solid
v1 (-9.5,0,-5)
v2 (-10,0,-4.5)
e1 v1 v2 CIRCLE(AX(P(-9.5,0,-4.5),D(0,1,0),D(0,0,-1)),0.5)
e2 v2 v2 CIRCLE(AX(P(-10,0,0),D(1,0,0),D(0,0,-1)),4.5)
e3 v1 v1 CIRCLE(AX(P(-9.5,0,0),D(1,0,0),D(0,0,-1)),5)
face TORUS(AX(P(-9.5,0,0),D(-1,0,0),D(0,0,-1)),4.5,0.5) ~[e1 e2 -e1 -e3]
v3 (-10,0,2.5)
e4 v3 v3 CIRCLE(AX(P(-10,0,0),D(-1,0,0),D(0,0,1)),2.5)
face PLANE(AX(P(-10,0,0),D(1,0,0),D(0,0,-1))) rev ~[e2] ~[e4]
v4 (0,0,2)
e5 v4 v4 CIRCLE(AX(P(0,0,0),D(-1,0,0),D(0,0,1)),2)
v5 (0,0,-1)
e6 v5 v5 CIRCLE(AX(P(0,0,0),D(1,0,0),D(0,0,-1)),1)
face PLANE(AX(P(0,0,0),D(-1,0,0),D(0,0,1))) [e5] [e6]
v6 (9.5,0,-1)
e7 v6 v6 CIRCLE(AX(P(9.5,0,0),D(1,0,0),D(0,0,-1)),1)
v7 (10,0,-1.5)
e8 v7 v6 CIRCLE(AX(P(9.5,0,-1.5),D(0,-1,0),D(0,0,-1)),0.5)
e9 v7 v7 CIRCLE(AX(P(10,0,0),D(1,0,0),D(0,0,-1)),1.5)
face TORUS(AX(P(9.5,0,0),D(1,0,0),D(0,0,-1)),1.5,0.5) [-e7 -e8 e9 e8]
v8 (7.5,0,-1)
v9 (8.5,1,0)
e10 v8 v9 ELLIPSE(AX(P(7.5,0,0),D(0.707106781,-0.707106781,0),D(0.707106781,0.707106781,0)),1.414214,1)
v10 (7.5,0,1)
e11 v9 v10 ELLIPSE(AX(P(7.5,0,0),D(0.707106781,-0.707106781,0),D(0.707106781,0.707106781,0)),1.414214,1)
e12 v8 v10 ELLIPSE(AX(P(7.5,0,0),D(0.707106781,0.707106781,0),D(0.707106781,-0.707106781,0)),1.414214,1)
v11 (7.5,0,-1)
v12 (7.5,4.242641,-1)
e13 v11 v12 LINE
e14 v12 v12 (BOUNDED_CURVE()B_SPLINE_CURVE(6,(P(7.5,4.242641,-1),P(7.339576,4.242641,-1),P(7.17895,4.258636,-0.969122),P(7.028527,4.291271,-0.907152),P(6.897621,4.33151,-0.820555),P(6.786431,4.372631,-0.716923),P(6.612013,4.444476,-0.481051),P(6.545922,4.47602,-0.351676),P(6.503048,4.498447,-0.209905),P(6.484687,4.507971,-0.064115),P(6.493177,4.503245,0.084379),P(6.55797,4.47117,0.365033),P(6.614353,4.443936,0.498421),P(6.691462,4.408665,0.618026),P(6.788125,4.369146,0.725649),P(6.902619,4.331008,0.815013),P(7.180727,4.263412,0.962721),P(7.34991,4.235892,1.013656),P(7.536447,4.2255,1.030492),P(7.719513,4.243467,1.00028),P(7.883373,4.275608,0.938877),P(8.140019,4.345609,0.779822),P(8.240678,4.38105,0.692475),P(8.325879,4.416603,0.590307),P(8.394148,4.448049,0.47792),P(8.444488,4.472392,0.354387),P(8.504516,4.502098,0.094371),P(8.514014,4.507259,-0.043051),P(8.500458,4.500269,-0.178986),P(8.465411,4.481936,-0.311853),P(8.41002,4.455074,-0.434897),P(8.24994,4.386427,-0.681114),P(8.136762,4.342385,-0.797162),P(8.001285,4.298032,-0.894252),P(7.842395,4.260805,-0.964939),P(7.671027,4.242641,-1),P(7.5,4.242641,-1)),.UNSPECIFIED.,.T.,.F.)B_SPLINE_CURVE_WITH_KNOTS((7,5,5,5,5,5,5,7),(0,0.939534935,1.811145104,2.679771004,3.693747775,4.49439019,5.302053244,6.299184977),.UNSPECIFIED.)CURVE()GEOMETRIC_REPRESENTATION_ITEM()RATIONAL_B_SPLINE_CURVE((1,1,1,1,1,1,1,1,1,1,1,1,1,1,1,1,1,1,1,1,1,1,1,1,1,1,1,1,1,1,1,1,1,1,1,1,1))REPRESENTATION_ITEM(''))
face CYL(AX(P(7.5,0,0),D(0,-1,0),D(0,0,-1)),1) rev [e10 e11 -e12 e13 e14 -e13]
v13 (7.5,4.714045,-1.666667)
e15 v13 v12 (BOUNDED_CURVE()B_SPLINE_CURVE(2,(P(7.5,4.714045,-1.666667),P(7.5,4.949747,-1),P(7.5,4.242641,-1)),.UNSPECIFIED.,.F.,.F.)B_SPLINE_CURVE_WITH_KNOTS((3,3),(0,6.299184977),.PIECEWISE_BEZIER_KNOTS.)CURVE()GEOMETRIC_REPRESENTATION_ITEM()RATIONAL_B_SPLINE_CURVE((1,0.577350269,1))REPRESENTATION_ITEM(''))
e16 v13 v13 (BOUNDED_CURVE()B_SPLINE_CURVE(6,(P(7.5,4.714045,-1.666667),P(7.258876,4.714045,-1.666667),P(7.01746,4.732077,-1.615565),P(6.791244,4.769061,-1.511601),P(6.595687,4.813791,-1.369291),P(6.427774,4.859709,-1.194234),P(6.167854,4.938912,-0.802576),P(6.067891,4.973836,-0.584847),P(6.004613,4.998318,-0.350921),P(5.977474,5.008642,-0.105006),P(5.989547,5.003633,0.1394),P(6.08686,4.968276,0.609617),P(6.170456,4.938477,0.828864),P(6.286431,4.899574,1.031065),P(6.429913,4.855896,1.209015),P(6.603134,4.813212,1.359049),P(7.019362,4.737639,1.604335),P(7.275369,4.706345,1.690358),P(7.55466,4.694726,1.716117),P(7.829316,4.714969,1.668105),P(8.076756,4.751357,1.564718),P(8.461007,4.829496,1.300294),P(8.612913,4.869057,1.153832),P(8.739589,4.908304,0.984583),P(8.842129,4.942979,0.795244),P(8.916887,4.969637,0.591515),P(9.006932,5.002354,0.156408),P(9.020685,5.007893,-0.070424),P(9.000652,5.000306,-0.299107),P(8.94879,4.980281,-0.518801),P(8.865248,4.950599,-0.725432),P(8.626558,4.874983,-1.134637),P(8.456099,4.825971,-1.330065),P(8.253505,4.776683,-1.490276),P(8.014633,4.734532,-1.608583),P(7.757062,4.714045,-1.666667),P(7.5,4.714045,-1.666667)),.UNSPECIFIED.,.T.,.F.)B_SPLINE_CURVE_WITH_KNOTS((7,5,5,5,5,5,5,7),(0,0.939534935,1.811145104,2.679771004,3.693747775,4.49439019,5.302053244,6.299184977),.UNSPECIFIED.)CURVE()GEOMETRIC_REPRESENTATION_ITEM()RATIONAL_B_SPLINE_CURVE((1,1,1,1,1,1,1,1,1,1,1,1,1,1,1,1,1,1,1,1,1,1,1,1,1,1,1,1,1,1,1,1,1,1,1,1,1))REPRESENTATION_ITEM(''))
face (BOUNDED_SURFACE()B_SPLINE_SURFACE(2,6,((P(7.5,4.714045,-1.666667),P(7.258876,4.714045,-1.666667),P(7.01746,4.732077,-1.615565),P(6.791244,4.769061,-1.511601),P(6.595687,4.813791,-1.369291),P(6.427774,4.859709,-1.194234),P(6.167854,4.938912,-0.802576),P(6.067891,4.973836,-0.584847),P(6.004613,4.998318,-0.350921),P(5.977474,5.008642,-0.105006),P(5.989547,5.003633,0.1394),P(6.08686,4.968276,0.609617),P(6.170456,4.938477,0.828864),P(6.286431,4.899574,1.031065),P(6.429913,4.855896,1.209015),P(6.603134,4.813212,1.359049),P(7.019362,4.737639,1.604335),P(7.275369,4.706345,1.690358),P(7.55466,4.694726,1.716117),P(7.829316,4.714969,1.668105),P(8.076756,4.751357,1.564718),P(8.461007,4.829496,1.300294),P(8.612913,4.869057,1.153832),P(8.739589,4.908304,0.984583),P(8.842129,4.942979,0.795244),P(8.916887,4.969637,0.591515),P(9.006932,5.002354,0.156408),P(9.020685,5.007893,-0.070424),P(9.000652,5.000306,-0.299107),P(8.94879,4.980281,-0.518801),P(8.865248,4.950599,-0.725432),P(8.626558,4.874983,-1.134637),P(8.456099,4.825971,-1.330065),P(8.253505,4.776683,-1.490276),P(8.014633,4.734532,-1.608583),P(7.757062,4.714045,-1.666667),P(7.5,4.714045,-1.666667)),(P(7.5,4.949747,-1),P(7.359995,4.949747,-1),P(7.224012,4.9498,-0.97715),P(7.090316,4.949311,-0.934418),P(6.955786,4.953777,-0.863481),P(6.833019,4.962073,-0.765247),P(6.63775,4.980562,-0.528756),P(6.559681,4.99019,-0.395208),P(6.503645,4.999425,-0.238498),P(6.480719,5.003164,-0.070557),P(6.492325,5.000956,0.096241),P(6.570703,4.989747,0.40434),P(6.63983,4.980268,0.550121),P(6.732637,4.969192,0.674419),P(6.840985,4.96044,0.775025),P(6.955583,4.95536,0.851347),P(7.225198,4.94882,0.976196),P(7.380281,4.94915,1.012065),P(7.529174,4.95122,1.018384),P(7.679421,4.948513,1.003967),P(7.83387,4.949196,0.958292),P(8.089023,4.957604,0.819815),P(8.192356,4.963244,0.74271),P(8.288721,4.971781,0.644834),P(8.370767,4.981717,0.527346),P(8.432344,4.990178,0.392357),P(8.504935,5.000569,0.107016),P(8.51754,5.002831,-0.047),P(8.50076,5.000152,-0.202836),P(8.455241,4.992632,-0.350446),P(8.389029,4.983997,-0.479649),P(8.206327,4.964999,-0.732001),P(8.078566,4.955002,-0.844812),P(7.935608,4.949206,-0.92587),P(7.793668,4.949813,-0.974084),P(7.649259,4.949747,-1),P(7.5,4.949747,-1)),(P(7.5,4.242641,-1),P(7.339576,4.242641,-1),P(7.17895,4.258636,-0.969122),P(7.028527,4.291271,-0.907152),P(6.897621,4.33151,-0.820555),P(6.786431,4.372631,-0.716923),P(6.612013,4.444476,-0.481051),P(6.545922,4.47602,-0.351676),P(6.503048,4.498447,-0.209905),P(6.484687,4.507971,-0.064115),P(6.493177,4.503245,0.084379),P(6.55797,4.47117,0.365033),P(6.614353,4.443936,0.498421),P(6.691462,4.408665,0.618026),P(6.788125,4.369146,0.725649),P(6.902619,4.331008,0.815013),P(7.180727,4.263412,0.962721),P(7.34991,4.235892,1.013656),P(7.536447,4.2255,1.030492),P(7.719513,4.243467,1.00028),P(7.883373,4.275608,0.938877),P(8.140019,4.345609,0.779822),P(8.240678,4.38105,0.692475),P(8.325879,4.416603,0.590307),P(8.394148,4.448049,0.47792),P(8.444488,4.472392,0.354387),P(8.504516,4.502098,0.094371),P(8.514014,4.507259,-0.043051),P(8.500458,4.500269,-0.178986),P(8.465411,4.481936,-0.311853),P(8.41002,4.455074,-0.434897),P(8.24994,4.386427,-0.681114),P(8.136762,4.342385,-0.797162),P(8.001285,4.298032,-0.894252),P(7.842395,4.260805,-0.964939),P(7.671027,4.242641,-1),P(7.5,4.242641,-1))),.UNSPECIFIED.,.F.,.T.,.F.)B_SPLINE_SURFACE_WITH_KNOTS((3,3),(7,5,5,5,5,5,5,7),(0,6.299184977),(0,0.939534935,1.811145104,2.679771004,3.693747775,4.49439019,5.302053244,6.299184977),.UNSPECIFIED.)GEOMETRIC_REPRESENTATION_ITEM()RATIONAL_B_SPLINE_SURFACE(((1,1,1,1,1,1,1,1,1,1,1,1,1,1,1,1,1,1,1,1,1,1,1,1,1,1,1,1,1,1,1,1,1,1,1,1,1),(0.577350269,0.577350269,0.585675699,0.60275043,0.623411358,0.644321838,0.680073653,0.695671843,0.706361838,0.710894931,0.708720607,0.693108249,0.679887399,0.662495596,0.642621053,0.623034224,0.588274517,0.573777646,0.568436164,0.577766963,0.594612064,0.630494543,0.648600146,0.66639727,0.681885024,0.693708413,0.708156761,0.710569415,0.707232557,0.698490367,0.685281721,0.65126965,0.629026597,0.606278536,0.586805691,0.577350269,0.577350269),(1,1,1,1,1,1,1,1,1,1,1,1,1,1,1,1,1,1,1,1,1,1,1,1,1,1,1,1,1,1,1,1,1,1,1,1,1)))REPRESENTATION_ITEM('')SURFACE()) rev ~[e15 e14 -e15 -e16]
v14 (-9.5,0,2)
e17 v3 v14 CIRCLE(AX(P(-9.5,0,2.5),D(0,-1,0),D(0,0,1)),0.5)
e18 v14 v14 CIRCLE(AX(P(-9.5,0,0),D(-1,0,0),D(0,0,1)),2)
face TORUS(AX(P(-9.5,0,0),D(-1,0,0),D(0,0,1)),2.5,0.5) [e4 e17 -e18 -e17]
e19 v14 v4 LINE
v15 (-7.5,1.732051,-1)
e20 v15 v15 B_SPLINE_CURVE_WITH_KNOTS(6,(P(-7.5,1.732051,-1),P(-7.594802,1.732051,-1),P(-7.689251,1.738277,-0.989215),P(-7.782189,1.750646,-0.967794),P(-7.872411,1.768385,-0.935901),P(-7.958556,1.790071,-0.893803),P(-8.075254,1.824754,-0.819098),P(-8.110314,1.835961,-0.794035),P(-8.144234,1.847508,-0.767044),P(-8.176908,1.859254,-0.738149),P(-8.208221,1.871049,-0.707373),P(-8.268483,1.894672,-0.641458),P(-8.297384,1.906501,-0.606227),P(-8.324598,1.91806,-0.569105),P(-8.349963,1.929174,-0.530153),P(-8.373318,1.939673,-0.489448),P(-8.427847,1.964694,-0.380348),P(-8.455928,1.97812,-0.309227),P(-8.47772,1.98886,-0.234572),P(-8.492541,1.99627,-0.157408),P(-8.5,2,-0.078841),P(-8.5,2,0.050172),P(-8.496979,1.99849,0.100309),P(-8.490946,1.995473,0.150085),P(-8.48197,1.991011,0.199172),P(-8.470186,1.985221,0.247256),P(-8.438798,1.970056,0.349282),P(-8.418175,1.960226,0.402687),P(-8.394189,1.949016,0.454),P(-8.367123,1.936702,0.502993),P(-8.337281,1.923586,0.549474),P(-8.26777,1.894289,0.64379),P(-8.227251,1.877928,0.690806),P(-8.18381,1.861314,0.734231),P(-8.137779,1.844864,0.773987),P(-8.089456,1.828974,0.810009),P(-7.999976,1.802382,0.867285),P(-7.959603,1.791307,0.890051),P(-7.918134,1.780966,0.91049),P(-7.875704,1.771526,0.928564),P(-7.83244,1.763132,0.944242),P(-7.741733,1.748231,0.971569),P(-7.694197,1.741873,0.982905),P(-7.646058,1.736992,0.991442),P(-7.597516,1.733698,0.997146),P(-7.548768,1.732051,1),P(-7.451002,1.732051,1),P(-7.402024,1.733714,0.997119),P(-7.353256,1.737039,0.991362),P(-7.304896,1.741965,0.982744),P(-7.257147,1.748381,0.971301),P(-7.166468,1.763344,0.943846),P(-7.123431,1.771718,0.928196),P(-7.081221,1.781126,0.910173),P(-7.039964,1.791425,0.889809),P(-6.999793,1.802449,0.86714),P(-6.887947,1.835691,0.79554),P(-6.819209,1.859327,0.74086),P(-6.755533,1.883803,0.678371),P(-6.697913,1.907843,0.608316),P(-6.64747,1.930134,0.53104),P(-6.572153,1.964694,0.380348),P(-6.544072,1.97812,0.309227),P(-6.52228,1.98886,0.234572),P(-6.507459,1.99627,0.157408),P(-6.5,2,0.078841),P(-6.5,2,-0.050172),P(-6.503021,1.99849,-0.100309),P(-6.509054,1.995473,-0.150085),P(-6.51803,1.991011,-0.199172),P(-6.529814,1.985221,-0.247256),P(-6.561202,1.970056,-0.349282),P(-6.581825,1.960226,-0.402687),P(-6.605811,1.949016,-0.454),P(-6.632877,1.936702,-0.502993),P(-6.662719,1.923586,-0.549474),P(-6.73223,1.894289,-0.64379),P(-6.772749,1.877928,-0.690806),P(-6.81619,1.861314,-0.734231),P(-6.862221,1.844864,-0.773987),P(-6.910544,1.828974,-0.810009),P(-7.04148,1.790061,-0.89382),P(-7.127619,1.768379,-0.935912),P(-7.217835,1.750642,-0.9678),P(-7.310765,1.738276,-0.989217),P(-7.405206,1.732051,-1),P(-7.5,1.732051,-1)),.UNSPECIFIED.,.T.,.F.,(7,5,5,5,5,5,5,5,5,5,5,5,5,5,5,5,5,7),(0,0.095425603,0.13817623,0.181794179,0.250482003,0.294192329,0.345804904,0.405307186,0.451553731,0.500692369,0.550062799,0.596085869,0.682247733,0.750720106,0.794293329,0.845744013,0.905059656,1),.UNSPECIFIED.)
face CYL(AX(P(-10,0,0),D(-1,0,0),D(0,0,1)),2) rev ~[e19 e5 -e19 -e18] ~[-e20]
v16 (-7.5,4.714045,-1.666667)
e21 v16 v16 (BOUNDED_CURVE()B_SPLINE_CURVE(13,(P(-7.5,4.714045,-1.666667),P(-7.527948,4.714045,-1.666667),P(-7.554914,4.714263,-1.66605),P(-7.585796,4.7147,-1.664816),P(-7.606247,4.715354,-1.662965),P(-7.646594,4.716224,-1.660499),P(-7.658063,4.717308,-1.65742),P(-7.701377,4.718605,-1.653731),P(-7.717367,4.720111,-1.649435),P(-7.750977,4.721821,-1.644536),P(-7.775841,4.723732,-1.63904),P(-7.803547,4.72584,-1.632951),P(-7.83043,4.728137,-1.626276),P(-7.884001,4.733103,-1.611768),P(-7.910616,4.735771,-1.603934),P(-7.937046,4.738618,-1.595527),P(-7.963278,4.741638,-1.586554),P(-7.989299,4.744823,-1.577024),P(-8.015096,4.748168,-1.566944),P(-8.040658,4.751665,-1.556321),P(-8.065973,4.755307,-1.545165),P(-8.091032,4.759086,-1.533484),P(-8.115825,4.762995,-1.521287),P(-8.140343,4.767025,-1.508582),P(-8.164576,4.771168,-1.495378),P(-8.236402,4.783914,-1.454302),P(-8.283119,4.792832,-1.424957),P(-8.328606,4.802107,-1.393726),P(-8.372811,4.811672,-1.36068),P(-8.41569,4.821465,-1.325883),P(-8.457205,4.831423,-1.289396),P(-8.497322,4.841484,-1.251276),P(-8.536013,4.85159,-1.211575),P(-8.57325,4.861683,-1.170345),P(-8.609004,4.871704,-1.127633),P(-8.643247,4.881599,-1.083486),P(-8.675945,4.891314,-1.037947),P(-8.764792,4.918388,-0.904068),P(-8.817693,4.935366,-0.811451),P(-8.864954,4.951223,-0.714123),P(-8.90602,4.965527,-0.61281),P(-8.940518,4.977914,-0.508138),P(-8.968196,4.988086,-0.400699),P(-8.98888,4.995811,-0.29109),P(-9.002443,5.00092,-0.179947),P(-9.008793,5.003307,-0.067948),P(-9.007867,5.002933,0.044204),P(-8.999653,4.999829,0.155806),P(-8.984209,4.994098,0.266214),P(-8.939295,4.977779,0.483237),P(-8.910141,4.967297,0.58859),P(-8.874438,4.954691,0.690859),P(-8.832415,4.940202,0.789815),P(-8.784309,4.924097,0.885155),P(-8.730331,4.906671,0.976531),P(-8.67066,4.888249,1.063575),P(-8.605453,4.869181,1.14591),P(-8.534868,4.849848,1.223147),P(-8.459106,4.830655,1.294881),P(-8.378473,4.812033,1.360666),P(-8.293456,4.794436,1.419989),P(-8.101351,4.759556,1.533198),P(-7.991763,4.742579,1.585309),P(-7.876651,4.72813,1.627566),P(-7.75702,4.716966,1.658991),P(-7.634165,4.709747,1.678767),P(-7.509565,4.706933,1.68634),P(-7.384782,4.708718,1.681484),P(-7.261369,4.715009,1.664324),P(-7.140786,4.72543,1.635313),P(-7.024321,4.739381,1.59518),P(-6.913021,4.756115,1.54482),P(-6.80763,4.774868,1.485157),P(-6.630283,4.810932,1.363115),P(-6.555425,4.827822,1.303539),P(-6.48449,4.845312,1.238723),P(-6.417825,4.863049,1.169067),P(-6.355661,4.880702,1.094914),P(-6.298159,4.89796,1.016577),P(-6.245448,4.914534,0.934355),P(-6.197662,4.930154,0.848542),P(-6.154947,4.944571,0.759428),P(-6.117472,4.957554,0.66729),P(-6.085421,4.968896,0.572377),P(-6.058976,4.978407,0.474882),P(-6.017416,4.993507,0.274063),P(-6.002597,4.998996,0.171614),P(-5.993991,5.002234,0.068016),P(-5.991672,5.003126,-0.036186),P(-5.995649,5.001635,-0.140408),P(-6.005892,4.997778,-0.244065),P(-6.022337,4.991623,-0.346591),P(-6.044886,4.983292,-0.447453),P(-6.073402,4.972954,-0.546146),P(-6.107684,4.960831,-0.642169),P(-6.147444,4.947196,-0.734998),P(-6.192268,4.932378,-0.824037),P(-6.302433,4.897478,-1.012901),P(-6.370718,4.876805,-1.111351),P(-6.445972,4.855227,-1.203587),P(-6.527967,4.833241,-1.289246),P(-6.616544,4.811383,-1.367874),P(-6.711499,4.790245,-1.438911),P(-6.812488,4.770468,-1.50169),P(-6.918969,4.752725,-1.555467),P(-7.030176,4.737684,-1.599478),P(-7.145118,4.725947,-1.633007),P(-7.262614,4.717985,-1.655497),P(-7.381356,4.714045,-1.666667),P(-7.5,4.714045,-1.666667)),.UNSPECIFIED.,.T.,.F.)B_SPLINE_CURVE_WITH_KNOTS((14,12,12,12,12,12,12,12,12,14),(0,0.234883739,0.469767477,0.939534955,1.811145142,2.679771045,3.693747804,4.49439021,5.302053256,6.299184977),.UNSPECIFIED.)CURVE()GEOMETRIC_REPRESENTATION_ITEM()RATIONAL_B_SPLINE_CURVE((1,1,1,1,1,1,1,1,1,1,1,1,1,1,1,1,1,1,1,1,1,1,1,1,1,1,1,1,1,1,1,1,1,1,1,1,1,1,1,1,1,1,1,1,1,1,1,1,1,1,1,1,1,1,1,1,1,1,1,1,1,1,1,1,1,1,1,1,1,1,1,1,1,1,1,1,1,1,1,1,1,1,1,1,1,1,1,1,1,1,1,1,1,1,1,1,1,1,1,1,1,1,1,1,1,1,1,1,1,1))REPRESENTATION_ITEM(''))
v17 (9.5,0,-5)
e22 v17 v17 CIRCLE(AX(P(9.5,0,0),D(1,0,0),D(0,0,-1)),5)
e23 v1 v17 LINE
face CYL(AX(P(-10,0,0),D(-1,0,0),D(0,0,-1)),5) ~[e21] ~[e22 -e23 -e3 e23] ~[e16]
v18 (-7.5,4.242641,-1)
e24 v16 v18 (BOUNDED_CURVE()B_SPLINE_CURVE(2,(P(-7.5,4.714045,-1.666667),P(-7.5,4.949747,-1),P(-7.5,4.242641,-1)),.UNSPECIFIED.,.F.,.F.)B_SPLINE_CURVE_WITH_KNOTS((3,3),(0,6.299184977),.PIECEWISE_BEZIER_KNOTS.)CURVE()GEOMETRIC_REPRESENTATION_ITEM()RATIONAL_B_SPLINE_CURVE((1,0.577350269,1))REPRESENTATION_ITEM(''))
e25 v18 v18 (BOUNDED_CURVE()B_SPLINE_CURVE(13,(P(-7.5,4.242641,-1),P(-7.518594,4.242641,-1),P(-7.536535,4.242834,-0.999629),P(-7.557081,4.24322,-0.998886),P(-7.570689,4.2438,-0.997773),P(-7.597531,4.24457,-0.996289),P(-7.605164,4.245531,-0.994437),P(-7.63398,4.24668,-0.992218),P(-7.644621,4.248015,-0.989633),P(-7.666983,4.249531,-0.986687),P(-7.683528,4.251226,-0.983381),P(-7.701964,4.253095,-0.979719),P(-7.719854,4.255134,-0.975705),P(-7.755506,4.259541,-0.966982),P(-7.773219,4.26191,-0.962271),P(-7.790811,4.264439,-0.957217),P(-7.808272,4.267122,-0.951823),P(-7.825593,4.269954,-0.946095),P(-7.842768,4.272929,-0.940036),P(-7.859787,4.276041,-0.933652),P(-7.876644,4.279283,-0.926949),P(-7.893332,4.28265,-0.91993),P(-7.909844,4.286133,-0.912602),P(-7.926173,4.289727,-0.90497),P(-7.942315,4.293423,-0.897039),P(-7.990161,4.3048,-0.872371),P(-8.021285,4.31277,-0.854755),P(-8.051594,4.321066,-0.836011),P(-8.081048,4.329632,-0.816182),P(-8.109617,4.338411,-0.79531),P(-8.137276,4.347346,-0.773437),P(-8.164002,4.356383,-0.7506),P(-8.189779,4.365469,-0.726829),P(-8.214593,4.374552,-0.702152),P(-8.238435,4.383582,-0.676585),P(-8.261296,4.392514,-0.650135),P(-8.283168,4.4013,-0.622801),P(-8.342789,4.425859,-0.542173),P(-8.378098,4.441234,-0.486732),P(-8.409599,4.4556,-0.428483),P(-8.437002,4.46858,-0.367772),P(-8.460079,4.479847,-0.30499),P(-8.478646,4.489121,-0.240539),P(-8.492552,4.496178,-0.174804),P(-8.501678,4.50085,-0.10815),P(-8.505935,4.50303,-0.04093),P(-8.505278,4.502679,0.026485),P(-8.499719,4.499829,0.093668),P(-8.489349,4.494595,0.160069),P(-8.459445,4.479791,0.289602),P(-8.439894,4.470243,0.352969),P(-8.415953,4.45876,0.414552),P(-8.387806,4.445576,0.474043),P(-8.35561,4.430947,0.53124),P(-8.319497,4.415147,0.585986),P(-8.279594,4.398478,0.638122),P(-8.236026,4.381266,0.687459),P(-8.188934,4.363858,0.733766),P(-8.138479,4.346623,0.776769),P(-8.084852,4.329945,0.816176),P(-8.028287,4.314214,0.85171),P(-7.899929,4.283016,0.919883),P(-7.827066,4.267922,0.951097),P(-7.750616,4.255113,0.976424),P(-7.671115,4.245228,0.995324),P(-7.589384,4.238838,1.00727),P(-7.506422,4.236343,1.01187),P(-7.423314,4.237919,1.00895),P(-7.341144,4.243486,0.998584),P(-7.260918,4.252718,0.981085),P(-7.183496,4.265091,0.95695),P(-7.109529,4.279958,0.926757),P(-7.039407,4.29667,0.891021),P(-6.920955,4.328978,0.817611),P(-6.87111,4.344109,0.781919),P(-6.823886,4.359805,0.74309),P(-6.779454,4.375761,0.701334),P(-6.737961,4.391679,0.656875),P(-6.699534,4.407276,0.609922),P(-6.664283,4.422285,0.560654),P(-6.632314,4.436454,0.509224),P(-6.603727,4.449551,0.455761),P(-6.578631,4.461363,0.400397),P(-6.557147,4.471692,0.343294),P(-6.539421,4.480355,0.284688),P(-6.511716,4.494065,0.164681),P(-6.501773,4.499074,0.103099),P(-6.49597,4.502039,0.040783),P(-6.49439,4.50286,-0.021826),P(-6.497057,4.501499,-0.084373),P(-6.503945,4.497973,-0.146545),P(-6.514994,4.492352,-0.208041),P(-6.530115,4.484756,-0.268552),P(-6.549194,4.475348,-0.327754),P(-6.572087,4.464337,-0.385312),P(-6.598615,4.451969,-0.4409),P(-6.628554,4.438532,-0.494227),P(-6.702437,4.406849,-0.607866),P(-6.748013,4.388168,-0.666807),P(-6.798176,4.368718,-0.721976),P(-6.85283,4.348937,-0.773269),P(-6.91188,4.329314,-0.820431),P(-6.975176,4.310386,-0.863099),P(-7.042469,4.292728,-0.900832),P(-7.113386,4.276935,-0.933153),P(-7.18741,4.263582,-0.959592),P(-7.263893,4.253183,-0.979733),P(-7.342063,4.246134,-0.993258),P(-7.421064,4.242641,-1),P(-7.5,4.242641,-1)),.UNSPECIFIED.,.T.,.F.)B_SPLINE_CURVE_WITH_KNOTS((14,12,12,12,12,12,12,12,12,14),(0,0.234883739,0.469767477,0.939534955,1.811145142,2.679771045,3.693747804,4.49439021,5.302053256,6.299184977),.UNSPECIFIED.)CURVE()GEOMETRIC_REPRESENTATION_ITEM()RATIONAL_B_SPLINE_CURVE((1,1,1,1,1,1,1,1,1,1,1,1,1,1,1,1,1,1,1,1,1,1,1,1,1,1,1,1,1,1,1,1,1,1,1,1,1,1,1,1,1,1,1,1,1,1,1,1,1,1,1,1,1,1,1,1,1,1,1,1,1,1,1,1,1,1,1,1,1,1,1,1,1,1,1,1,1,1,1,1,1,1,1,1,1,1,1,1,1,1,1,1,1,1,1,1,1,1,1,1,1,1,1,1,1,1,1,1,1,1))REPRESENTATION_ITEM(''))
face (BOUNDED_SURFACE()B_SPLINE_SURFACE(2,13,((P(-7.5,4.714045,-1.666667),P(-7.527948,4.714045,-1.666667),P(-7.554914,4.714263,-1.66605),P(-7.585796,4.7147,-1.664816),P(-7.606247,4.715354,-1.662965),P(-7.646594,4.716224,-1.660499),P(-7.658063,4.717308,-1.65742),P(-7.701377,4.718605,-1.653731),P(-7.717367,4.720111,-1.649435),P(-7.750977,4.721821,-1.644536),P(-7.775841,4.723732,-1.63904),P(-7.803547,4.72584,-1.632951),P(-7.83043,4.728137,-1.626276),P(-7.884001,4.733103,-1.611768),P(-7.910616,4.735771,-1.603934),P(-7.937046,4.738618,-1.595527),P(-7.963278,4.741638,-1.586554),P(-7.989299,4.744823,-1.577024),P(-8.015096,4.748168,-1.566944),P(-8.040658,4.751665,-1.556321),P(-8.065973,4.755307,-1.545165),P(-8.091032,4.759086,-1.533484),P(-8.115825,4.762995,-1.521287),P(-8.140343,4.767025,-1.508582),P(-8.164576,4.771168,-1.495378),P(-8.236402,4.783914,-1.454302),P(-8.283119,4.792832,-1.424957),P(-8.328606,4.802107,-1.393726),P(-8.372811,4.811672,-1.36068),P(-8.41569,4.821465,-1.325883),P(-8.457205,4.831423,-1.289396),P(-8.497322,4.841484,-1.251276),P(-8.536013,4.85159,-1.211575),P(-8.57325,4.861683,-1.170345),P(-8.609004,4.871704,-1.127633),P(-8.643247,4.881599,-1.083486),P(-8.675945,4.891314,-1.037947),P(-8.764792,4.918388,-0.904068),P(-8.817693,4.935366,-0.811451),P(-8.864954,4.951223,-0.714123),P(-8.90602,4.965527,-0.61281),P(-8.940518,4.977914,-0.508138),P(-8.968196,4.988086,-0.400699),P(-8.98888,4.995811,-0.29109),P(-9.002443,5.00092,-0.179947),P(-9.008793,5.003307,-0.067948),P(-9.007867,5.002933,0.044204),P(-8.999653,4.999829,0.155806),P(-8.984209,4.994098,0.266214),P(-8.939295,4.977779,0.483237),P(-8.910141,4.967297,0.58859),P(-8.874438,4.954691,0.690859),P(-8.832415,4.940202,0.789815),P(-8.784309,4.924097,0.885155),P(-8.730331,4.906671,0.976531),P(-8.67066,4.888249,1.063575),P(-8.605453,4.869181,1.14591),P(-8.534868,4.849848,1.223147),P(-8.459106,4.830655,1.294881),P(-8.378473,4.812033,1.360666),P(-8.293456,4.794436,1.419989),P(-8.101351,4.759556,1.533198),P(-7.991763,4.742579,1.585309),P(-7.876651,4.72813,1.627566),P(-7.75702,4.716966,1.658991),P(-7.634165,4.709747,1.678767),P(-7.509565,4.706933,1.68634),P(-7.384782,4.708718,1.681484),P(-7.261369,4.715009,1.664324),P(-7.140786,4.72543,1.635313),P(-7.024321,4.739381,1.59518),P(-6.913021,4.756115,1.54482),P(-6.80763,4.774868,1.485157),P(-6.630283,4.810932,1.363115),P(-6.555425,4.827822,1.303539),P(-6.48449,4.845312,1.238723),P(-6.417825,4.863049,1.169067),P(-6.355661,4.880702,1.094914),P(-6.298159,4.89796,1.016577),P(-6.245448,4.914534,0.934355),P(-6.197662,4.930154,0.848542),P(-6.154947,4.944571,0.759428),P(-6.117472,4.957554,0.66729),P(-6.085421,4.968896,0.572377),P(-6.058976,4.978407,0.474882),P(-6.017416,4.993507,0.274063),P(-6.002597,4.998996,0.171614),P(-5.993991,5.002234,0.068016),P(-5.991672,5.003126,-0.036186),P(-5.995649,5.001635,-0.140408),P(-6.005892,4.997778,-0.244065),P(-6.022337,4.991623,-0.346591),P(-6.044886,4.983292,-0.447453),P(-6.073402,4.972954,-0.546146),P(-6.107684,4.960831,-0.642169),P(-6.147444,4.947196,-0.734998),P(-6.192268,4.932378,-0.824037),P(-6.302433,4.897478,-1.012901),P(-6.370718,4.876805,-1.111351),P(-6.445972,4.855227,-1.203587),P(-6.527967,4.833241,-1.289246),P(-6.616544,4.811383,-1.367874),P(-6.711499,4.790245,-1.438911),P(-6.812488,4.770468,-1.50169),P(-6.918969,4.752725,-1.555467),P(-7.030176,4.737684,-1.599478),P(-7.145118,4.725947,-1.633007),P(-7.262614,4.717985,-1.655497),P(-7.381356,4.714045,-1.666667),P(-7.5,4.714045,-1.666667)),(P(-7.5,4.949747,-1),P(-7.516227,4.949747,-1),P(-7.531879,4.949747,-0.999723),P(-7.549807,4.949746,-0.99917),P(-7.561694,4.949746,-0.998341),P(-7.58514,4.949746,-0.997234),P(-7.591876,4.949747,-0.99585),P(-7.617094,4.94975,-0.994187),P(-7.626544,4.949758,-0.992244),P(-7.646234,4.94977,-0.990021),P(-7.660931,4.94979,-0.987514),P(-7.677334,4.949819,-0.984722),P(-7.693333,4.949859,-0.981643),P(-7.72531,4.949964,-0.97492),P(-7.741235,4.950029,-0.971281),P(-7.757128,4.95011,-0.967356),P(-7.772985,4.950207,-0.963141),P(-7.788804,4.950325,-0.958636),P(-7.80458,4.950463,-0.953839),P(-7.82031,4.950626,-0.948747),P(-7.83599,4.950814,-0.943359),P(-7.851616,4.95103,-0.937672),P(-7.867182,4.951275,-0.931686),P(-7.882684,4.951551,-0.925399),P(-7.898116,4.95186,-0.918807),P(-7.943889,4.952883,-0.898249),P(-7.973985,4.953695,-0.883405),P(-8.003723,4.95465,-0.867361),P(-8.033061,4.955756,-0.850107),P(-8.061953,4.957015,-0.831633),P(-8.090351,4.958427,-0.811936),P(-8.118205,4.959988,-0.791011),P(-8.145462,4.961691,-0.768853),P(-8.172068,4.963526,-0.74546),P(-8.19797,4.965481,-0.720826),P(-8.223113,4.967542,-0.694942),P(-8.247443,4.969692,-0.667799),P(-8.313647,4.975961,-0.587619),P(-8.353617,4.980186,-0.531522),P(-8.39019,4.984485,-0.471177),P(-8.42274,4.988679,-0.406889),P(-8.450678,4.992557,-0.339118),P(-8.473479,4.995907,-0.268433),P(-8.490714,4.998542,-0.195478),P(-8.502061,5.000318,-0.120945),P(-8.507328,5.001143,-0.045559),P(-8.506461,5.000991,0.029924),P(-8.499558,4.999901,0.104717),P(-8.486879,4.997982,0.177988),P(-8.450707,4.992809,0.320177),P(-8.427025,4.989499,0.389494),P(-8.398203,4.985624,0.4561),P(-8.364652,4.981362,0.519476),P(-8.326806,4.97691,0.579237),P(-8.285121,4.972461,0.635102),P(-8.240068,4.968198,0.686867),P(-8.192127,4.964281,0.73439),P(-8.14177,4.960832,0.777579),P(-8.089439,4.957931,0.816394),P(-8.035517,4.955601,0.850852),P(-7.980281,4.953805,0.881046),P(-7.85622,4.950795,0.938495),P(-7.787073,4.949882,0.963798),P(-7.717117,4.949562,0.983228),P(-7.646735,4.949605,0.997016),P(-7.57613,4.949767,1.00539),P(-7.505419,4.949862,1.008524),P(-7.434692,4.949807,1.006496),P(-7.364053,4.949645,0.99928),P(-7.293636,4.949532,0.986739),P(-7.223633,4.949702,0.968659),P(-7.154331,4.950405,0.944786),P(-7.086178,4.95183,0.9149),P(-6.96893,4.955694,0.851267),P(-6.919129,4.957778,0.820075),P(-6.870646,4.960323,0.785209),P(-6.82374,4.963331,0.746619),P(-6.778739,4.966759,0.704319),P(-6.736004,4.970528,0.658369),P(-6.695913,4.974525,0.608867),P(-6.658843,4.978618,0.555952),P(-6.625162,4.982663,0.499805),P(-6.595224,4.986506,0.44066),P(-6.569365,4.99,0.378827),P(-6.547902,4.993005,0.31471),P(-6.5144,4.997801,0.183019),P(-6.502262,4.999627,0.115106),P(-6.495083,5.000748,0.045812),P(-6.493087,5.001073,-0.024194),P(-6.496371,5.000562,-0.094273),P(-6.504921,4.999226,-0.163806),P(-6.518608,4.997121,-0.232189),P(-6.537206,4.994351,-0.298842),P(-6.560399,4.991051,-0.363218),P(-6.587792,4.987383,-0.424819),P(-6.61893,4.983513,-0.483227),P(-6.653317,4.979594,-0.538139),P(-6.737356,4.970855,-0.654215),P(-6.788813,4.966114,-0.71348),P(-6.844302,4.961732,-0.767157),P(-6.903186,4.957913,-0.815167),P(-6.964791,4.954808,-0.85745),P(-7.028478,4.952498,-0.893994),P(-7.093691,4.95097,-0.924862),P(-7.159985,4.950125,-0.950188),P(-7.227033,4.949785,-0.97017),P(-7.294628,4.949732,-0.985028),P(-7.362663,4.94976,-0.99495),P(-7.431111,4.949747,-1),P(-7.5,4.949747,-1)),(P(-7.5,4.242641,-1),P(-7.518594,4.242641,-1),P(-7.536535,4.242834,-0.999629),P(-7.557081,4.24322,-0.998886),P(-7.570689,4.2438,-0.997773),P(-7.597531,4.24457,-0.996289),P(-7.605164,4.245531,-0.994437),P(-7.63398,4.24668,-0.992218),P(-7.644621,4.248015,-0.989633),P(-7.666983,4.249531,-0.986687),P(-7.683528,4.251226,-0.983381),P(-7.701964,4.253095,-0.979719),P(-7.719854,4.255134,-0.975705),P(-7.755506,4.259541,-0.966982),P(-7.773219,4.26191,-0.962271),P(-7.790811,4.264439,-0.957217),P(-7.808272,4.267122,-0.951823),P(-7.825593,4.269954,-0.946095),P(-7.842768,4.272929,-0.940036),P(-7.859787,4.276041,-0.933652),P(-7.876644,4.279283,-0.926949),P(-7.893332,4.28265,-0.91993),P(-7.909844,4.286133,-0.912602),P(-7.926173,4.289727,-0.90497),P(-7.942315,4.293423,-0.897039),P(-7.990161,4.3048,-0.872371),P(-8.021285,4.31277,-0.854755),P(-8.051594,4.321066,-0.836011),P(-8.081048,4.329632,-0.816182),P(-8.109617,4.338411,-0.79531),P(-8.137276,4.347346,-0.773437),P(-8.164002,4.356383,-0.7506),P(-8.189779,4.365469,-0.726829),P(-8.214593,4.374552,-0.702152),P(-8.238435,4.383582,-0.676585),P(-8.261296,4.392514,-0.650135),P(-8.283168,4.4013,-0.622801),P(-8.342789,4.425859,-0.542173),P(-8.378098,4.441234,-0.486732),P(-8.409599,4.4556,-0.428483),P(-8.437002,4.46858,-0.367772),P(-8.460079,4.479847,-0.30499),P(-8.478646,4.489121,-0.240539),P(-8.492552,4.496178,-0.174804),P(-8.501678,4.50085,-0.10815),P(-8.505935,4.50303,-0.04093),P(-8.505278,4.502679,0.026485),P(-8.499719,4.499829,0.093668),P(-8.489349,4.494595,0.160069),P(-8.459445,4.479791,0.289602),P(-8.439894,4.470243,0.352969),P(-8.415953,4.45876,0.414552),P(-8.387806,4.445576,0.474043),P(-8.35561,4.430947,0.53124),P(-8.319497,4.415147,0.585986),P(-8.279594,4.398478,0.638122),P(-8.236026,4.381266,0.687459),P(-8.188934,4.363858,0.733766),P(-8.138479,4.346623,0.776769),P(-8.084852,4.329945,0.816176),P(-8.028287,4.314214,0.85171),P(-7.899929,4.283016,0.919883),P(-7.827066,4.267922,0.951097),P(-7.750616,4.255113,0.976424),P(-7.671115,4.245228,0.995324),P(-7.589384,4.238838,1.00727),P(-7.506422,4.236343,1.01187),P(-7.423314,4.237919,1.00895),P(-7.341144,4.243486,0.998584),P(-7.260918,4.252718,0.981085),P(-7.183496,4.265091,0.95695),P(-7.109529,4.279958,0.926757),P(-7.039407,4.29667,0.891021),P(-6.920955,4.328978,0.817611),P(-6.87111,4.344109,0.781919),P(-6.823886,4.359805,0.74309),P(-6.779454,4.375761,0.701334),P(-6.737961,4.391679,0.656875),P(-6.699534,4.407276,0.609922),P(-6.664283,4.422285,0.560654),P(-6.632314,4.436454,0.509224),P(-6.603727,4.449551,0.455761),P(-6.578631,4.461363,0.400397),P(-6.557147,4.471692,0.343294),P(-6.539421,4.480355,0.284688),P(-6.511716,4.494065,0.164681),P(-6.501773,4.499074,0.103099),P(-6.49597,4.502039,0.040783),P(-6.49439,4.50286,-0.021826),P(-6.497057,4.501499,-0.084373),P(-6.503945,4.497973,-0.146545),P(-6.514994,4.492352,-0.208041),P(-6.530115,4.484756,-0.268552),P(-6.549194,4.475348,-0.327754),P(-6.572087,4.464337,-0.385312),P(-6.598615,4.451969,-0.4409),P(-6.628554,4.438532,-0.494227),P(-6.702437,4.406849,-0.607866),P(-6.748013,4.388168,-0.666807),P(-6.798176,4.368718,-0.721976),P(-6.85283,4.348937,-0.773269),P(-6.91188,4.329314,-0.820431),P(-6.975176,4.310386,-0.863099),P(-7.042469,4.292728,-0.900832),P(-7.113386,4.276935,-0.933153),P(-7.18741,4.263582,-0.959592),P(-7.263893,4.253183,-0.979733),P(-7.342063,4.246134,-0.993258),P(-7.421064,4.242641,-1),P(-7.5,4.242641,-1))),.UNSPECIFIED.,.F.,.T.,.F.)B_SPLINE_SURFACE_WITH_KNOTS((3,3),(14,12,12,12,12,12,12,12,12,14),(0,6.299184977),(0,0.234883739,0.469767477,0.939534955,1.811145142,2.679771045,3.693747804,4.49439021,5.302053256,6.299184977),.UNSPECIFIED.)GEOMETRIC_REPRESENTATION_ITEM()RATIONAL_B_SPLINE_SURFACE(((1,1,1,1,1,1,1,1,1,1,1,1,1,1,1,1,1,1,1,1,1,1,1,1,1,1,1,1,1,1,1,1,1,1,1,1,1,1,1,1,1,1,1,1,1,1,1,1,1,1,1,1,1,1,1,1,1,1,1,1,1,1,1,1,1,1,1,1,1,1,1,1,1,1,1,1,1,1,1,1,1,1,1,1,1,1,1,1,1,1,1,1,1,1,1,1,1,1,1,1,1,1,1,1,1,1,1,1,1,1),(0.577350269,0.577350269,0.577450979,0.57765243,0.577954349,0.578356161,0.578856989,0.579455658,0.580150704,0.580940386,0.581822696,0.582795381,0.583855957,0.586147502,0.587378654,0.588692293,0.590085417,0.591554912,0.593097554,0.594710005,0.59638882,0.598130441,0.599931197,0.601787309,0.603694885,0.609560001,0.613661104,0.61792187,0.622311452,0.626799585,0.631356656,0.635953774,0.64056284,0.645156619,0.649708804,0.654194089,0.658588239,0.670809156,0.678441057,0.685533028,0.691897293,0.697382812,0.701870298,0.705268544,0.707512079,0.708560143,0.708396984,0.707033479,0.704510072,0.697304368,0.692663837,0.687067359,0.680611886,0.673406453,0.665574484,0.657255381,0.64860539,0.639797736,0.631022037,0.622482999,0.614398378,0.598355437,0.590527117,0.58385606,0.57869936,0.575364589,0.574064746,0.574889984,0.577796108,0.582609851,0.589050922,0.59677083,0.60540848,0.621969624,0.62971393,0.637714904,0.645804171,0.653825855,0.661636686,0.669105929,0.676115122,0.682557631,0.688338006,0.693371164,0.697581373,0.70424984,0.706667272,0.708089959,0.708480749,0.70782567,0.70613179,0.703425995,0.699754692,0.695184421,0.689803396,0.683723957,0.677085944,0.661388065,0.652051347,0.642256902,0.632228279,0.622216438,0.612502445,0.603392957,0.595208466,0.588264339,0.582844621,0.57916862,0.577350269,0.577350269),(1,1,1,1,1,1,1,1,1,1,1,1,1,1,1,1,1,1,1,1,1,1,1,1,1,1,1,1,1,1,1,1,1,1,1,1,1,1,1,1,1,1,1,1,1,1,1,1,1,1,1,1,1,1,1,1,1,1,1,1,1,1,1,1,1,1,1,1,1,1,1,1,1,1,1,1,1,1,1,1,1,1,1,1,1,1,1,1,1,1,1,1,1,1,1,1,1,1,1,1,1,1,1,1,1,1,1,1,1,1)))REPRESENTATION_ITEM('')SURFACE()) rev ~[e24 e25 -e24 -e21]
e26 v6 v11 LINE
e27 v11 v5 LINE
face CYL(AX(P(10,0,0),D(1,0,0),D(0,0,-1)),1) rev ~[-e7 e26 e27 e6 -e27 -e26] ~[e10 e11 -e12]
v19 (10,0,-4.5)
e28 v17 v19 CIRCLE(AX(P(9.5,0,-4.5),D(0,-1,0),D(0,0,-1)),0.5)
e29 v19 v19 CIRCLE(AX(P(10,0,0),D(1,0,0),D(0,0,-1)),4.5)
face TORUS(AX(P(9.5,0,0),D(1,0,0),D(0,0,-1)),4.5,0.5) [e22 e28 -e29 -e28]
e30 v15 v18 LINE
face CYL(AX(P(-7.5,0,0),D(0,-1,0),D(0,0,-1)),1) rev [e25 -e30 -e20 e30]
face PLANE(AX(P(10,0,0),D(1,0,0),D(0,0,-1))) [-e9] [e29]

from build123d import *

# Parameters (mm, degrees)
BOSS_EXTRUDE1_DEPTH      = 10
BOSS_EXTRUDE1_DEPTH_BACK = 10
SKETCH1_R                = 5
SKETCH2_R                = 1
CUT_EXTRUDE1_DEPTH       = 10
SKETCH3_R                = 2
CUT_EXTRUDE2_DEPTH       = 10
CUT_EXTRUDE4_REACH       = 14.247
CUT_EXTRUDE4_END_RADIUS  = 5
SKETCH4_R                = 1
FILLET1_R                = 0.5
FILLET2_R                = 0.5


with BuildPart() as part:
    # Sketch1 → Boss-Extrude1 (new, two sides: drawn at the far end of the back side and taken through both)
    with BuildSketch(Plane(origin=(0, 0, 0), x_dir=(0, 0, -1), z_dir=(1, 0, 0)).offset(-BOSS_EXTRUDE1_DEPTH_BACK)):
        Circle(SKETCH1_R)
    extrude(amount=BOSS_EXTRUDE1_DEPTH + BOSS_EXTRUDE1_DEPTH_BACK)

    # Sketch2 → Cut-Extrude1 (cut)
    with BuildSketch(Plane(origin=(10, 0, 0), x_dir=(0, 0, -1), z_dir=(1, 0, 0))):
        Circle(SKETCH2_R)
    extrude(amount=-CUT_EXTRUDE1_DEPTH, mode=Mode.SUBTRACT)

    # Sketch3 → Cut-Extrude2 (cut)
    with BuildSketch(Plane.ZY.offset(10)):
        Circle(SKETCH3_R)
    extrude(amount=-CUT_EXTRUDE2_DEPTH, mode=Mode.SUBTRACT)

    # Cut-Extrude4: up to this cylinder (the profile starts inside it)
    cut_extrude4_end = Plane(origin=(0, 0, 0), z_dir=(1, 0, 0)) * Cylinder(CUT_EXTRUDE4_END_RADIUS, 54.494, mode=Mode.PRIVATE)
    # Sketch4 → Cut-Extrude4 (cut, up to the surface)
    with BuildSketch(Plane(origin=(0, 0, 0), x_dir=(1, 0, 0), z_dir=(0, 1, 0)), mode=Mode.PRIVATE) as cut_extrude4_sk1:
        with Locations(Location((-7.5, 0, 0), (0, 0, 90))):
            Circle(SKETCH4_R)
    cut_extrude4_tool1 = extrude(cut_extrude4_sk1.sketch, amount=CUT_EXTRUDE4_REACH, mode=Mode.PRIVATE) & cut_extrude4_end
    add(cut_extrude4_tool1.solids().sort_by_distance((-7.5, 0, 0))[0], mode=Mode.SUBTRACT)
    # Sketch4 → Cut-Extrude4 (cut, up to the surface)
    with BuildSketch(Plane(origin=(0, 0, 0), x_dir=(1, 0, 0), z_dir=(0, 1, 0)), mode=Mode.PRIVATE) as cut_extrude4_sk2:
        with Locations(Location((7.5, 0, 0), (0, 0, 90))):
            Circle(SKETCH4_R)
    cut_extrude4_tool2 = extrude(cut_extrude4_sk2.sketch, amount=CUT_EXTRUDE4_REACH, mode=Mode.PRIVATE) & cut_extrude4_end
    add(cut_extrude4_tool2.solids().sort_by_distance((7.5, 0, 0))[0], mode=Mode.SUBTRACT)

    # Fillet1
    fillet1_edges = [part.edges().sort_by_distance(p)[0] for p in [
        (-10, 0, -2),
        (-10, 0, 5),
        (10, 0, 5),
        (10, 0, 1),
    ]]
    fillet(fillet1_edges, radius=FILLET1_R)

    # Fillet2
    fillet2_edges = [part.edges().sort_by_distance(p)[0] for p in [
        (-7.5, 4.898979486, 1),
        (7.5, 4.898979486, 1),
    ]]
    fillet(fillet2_edges, radius=FILLET2_R)


solid = part.part
